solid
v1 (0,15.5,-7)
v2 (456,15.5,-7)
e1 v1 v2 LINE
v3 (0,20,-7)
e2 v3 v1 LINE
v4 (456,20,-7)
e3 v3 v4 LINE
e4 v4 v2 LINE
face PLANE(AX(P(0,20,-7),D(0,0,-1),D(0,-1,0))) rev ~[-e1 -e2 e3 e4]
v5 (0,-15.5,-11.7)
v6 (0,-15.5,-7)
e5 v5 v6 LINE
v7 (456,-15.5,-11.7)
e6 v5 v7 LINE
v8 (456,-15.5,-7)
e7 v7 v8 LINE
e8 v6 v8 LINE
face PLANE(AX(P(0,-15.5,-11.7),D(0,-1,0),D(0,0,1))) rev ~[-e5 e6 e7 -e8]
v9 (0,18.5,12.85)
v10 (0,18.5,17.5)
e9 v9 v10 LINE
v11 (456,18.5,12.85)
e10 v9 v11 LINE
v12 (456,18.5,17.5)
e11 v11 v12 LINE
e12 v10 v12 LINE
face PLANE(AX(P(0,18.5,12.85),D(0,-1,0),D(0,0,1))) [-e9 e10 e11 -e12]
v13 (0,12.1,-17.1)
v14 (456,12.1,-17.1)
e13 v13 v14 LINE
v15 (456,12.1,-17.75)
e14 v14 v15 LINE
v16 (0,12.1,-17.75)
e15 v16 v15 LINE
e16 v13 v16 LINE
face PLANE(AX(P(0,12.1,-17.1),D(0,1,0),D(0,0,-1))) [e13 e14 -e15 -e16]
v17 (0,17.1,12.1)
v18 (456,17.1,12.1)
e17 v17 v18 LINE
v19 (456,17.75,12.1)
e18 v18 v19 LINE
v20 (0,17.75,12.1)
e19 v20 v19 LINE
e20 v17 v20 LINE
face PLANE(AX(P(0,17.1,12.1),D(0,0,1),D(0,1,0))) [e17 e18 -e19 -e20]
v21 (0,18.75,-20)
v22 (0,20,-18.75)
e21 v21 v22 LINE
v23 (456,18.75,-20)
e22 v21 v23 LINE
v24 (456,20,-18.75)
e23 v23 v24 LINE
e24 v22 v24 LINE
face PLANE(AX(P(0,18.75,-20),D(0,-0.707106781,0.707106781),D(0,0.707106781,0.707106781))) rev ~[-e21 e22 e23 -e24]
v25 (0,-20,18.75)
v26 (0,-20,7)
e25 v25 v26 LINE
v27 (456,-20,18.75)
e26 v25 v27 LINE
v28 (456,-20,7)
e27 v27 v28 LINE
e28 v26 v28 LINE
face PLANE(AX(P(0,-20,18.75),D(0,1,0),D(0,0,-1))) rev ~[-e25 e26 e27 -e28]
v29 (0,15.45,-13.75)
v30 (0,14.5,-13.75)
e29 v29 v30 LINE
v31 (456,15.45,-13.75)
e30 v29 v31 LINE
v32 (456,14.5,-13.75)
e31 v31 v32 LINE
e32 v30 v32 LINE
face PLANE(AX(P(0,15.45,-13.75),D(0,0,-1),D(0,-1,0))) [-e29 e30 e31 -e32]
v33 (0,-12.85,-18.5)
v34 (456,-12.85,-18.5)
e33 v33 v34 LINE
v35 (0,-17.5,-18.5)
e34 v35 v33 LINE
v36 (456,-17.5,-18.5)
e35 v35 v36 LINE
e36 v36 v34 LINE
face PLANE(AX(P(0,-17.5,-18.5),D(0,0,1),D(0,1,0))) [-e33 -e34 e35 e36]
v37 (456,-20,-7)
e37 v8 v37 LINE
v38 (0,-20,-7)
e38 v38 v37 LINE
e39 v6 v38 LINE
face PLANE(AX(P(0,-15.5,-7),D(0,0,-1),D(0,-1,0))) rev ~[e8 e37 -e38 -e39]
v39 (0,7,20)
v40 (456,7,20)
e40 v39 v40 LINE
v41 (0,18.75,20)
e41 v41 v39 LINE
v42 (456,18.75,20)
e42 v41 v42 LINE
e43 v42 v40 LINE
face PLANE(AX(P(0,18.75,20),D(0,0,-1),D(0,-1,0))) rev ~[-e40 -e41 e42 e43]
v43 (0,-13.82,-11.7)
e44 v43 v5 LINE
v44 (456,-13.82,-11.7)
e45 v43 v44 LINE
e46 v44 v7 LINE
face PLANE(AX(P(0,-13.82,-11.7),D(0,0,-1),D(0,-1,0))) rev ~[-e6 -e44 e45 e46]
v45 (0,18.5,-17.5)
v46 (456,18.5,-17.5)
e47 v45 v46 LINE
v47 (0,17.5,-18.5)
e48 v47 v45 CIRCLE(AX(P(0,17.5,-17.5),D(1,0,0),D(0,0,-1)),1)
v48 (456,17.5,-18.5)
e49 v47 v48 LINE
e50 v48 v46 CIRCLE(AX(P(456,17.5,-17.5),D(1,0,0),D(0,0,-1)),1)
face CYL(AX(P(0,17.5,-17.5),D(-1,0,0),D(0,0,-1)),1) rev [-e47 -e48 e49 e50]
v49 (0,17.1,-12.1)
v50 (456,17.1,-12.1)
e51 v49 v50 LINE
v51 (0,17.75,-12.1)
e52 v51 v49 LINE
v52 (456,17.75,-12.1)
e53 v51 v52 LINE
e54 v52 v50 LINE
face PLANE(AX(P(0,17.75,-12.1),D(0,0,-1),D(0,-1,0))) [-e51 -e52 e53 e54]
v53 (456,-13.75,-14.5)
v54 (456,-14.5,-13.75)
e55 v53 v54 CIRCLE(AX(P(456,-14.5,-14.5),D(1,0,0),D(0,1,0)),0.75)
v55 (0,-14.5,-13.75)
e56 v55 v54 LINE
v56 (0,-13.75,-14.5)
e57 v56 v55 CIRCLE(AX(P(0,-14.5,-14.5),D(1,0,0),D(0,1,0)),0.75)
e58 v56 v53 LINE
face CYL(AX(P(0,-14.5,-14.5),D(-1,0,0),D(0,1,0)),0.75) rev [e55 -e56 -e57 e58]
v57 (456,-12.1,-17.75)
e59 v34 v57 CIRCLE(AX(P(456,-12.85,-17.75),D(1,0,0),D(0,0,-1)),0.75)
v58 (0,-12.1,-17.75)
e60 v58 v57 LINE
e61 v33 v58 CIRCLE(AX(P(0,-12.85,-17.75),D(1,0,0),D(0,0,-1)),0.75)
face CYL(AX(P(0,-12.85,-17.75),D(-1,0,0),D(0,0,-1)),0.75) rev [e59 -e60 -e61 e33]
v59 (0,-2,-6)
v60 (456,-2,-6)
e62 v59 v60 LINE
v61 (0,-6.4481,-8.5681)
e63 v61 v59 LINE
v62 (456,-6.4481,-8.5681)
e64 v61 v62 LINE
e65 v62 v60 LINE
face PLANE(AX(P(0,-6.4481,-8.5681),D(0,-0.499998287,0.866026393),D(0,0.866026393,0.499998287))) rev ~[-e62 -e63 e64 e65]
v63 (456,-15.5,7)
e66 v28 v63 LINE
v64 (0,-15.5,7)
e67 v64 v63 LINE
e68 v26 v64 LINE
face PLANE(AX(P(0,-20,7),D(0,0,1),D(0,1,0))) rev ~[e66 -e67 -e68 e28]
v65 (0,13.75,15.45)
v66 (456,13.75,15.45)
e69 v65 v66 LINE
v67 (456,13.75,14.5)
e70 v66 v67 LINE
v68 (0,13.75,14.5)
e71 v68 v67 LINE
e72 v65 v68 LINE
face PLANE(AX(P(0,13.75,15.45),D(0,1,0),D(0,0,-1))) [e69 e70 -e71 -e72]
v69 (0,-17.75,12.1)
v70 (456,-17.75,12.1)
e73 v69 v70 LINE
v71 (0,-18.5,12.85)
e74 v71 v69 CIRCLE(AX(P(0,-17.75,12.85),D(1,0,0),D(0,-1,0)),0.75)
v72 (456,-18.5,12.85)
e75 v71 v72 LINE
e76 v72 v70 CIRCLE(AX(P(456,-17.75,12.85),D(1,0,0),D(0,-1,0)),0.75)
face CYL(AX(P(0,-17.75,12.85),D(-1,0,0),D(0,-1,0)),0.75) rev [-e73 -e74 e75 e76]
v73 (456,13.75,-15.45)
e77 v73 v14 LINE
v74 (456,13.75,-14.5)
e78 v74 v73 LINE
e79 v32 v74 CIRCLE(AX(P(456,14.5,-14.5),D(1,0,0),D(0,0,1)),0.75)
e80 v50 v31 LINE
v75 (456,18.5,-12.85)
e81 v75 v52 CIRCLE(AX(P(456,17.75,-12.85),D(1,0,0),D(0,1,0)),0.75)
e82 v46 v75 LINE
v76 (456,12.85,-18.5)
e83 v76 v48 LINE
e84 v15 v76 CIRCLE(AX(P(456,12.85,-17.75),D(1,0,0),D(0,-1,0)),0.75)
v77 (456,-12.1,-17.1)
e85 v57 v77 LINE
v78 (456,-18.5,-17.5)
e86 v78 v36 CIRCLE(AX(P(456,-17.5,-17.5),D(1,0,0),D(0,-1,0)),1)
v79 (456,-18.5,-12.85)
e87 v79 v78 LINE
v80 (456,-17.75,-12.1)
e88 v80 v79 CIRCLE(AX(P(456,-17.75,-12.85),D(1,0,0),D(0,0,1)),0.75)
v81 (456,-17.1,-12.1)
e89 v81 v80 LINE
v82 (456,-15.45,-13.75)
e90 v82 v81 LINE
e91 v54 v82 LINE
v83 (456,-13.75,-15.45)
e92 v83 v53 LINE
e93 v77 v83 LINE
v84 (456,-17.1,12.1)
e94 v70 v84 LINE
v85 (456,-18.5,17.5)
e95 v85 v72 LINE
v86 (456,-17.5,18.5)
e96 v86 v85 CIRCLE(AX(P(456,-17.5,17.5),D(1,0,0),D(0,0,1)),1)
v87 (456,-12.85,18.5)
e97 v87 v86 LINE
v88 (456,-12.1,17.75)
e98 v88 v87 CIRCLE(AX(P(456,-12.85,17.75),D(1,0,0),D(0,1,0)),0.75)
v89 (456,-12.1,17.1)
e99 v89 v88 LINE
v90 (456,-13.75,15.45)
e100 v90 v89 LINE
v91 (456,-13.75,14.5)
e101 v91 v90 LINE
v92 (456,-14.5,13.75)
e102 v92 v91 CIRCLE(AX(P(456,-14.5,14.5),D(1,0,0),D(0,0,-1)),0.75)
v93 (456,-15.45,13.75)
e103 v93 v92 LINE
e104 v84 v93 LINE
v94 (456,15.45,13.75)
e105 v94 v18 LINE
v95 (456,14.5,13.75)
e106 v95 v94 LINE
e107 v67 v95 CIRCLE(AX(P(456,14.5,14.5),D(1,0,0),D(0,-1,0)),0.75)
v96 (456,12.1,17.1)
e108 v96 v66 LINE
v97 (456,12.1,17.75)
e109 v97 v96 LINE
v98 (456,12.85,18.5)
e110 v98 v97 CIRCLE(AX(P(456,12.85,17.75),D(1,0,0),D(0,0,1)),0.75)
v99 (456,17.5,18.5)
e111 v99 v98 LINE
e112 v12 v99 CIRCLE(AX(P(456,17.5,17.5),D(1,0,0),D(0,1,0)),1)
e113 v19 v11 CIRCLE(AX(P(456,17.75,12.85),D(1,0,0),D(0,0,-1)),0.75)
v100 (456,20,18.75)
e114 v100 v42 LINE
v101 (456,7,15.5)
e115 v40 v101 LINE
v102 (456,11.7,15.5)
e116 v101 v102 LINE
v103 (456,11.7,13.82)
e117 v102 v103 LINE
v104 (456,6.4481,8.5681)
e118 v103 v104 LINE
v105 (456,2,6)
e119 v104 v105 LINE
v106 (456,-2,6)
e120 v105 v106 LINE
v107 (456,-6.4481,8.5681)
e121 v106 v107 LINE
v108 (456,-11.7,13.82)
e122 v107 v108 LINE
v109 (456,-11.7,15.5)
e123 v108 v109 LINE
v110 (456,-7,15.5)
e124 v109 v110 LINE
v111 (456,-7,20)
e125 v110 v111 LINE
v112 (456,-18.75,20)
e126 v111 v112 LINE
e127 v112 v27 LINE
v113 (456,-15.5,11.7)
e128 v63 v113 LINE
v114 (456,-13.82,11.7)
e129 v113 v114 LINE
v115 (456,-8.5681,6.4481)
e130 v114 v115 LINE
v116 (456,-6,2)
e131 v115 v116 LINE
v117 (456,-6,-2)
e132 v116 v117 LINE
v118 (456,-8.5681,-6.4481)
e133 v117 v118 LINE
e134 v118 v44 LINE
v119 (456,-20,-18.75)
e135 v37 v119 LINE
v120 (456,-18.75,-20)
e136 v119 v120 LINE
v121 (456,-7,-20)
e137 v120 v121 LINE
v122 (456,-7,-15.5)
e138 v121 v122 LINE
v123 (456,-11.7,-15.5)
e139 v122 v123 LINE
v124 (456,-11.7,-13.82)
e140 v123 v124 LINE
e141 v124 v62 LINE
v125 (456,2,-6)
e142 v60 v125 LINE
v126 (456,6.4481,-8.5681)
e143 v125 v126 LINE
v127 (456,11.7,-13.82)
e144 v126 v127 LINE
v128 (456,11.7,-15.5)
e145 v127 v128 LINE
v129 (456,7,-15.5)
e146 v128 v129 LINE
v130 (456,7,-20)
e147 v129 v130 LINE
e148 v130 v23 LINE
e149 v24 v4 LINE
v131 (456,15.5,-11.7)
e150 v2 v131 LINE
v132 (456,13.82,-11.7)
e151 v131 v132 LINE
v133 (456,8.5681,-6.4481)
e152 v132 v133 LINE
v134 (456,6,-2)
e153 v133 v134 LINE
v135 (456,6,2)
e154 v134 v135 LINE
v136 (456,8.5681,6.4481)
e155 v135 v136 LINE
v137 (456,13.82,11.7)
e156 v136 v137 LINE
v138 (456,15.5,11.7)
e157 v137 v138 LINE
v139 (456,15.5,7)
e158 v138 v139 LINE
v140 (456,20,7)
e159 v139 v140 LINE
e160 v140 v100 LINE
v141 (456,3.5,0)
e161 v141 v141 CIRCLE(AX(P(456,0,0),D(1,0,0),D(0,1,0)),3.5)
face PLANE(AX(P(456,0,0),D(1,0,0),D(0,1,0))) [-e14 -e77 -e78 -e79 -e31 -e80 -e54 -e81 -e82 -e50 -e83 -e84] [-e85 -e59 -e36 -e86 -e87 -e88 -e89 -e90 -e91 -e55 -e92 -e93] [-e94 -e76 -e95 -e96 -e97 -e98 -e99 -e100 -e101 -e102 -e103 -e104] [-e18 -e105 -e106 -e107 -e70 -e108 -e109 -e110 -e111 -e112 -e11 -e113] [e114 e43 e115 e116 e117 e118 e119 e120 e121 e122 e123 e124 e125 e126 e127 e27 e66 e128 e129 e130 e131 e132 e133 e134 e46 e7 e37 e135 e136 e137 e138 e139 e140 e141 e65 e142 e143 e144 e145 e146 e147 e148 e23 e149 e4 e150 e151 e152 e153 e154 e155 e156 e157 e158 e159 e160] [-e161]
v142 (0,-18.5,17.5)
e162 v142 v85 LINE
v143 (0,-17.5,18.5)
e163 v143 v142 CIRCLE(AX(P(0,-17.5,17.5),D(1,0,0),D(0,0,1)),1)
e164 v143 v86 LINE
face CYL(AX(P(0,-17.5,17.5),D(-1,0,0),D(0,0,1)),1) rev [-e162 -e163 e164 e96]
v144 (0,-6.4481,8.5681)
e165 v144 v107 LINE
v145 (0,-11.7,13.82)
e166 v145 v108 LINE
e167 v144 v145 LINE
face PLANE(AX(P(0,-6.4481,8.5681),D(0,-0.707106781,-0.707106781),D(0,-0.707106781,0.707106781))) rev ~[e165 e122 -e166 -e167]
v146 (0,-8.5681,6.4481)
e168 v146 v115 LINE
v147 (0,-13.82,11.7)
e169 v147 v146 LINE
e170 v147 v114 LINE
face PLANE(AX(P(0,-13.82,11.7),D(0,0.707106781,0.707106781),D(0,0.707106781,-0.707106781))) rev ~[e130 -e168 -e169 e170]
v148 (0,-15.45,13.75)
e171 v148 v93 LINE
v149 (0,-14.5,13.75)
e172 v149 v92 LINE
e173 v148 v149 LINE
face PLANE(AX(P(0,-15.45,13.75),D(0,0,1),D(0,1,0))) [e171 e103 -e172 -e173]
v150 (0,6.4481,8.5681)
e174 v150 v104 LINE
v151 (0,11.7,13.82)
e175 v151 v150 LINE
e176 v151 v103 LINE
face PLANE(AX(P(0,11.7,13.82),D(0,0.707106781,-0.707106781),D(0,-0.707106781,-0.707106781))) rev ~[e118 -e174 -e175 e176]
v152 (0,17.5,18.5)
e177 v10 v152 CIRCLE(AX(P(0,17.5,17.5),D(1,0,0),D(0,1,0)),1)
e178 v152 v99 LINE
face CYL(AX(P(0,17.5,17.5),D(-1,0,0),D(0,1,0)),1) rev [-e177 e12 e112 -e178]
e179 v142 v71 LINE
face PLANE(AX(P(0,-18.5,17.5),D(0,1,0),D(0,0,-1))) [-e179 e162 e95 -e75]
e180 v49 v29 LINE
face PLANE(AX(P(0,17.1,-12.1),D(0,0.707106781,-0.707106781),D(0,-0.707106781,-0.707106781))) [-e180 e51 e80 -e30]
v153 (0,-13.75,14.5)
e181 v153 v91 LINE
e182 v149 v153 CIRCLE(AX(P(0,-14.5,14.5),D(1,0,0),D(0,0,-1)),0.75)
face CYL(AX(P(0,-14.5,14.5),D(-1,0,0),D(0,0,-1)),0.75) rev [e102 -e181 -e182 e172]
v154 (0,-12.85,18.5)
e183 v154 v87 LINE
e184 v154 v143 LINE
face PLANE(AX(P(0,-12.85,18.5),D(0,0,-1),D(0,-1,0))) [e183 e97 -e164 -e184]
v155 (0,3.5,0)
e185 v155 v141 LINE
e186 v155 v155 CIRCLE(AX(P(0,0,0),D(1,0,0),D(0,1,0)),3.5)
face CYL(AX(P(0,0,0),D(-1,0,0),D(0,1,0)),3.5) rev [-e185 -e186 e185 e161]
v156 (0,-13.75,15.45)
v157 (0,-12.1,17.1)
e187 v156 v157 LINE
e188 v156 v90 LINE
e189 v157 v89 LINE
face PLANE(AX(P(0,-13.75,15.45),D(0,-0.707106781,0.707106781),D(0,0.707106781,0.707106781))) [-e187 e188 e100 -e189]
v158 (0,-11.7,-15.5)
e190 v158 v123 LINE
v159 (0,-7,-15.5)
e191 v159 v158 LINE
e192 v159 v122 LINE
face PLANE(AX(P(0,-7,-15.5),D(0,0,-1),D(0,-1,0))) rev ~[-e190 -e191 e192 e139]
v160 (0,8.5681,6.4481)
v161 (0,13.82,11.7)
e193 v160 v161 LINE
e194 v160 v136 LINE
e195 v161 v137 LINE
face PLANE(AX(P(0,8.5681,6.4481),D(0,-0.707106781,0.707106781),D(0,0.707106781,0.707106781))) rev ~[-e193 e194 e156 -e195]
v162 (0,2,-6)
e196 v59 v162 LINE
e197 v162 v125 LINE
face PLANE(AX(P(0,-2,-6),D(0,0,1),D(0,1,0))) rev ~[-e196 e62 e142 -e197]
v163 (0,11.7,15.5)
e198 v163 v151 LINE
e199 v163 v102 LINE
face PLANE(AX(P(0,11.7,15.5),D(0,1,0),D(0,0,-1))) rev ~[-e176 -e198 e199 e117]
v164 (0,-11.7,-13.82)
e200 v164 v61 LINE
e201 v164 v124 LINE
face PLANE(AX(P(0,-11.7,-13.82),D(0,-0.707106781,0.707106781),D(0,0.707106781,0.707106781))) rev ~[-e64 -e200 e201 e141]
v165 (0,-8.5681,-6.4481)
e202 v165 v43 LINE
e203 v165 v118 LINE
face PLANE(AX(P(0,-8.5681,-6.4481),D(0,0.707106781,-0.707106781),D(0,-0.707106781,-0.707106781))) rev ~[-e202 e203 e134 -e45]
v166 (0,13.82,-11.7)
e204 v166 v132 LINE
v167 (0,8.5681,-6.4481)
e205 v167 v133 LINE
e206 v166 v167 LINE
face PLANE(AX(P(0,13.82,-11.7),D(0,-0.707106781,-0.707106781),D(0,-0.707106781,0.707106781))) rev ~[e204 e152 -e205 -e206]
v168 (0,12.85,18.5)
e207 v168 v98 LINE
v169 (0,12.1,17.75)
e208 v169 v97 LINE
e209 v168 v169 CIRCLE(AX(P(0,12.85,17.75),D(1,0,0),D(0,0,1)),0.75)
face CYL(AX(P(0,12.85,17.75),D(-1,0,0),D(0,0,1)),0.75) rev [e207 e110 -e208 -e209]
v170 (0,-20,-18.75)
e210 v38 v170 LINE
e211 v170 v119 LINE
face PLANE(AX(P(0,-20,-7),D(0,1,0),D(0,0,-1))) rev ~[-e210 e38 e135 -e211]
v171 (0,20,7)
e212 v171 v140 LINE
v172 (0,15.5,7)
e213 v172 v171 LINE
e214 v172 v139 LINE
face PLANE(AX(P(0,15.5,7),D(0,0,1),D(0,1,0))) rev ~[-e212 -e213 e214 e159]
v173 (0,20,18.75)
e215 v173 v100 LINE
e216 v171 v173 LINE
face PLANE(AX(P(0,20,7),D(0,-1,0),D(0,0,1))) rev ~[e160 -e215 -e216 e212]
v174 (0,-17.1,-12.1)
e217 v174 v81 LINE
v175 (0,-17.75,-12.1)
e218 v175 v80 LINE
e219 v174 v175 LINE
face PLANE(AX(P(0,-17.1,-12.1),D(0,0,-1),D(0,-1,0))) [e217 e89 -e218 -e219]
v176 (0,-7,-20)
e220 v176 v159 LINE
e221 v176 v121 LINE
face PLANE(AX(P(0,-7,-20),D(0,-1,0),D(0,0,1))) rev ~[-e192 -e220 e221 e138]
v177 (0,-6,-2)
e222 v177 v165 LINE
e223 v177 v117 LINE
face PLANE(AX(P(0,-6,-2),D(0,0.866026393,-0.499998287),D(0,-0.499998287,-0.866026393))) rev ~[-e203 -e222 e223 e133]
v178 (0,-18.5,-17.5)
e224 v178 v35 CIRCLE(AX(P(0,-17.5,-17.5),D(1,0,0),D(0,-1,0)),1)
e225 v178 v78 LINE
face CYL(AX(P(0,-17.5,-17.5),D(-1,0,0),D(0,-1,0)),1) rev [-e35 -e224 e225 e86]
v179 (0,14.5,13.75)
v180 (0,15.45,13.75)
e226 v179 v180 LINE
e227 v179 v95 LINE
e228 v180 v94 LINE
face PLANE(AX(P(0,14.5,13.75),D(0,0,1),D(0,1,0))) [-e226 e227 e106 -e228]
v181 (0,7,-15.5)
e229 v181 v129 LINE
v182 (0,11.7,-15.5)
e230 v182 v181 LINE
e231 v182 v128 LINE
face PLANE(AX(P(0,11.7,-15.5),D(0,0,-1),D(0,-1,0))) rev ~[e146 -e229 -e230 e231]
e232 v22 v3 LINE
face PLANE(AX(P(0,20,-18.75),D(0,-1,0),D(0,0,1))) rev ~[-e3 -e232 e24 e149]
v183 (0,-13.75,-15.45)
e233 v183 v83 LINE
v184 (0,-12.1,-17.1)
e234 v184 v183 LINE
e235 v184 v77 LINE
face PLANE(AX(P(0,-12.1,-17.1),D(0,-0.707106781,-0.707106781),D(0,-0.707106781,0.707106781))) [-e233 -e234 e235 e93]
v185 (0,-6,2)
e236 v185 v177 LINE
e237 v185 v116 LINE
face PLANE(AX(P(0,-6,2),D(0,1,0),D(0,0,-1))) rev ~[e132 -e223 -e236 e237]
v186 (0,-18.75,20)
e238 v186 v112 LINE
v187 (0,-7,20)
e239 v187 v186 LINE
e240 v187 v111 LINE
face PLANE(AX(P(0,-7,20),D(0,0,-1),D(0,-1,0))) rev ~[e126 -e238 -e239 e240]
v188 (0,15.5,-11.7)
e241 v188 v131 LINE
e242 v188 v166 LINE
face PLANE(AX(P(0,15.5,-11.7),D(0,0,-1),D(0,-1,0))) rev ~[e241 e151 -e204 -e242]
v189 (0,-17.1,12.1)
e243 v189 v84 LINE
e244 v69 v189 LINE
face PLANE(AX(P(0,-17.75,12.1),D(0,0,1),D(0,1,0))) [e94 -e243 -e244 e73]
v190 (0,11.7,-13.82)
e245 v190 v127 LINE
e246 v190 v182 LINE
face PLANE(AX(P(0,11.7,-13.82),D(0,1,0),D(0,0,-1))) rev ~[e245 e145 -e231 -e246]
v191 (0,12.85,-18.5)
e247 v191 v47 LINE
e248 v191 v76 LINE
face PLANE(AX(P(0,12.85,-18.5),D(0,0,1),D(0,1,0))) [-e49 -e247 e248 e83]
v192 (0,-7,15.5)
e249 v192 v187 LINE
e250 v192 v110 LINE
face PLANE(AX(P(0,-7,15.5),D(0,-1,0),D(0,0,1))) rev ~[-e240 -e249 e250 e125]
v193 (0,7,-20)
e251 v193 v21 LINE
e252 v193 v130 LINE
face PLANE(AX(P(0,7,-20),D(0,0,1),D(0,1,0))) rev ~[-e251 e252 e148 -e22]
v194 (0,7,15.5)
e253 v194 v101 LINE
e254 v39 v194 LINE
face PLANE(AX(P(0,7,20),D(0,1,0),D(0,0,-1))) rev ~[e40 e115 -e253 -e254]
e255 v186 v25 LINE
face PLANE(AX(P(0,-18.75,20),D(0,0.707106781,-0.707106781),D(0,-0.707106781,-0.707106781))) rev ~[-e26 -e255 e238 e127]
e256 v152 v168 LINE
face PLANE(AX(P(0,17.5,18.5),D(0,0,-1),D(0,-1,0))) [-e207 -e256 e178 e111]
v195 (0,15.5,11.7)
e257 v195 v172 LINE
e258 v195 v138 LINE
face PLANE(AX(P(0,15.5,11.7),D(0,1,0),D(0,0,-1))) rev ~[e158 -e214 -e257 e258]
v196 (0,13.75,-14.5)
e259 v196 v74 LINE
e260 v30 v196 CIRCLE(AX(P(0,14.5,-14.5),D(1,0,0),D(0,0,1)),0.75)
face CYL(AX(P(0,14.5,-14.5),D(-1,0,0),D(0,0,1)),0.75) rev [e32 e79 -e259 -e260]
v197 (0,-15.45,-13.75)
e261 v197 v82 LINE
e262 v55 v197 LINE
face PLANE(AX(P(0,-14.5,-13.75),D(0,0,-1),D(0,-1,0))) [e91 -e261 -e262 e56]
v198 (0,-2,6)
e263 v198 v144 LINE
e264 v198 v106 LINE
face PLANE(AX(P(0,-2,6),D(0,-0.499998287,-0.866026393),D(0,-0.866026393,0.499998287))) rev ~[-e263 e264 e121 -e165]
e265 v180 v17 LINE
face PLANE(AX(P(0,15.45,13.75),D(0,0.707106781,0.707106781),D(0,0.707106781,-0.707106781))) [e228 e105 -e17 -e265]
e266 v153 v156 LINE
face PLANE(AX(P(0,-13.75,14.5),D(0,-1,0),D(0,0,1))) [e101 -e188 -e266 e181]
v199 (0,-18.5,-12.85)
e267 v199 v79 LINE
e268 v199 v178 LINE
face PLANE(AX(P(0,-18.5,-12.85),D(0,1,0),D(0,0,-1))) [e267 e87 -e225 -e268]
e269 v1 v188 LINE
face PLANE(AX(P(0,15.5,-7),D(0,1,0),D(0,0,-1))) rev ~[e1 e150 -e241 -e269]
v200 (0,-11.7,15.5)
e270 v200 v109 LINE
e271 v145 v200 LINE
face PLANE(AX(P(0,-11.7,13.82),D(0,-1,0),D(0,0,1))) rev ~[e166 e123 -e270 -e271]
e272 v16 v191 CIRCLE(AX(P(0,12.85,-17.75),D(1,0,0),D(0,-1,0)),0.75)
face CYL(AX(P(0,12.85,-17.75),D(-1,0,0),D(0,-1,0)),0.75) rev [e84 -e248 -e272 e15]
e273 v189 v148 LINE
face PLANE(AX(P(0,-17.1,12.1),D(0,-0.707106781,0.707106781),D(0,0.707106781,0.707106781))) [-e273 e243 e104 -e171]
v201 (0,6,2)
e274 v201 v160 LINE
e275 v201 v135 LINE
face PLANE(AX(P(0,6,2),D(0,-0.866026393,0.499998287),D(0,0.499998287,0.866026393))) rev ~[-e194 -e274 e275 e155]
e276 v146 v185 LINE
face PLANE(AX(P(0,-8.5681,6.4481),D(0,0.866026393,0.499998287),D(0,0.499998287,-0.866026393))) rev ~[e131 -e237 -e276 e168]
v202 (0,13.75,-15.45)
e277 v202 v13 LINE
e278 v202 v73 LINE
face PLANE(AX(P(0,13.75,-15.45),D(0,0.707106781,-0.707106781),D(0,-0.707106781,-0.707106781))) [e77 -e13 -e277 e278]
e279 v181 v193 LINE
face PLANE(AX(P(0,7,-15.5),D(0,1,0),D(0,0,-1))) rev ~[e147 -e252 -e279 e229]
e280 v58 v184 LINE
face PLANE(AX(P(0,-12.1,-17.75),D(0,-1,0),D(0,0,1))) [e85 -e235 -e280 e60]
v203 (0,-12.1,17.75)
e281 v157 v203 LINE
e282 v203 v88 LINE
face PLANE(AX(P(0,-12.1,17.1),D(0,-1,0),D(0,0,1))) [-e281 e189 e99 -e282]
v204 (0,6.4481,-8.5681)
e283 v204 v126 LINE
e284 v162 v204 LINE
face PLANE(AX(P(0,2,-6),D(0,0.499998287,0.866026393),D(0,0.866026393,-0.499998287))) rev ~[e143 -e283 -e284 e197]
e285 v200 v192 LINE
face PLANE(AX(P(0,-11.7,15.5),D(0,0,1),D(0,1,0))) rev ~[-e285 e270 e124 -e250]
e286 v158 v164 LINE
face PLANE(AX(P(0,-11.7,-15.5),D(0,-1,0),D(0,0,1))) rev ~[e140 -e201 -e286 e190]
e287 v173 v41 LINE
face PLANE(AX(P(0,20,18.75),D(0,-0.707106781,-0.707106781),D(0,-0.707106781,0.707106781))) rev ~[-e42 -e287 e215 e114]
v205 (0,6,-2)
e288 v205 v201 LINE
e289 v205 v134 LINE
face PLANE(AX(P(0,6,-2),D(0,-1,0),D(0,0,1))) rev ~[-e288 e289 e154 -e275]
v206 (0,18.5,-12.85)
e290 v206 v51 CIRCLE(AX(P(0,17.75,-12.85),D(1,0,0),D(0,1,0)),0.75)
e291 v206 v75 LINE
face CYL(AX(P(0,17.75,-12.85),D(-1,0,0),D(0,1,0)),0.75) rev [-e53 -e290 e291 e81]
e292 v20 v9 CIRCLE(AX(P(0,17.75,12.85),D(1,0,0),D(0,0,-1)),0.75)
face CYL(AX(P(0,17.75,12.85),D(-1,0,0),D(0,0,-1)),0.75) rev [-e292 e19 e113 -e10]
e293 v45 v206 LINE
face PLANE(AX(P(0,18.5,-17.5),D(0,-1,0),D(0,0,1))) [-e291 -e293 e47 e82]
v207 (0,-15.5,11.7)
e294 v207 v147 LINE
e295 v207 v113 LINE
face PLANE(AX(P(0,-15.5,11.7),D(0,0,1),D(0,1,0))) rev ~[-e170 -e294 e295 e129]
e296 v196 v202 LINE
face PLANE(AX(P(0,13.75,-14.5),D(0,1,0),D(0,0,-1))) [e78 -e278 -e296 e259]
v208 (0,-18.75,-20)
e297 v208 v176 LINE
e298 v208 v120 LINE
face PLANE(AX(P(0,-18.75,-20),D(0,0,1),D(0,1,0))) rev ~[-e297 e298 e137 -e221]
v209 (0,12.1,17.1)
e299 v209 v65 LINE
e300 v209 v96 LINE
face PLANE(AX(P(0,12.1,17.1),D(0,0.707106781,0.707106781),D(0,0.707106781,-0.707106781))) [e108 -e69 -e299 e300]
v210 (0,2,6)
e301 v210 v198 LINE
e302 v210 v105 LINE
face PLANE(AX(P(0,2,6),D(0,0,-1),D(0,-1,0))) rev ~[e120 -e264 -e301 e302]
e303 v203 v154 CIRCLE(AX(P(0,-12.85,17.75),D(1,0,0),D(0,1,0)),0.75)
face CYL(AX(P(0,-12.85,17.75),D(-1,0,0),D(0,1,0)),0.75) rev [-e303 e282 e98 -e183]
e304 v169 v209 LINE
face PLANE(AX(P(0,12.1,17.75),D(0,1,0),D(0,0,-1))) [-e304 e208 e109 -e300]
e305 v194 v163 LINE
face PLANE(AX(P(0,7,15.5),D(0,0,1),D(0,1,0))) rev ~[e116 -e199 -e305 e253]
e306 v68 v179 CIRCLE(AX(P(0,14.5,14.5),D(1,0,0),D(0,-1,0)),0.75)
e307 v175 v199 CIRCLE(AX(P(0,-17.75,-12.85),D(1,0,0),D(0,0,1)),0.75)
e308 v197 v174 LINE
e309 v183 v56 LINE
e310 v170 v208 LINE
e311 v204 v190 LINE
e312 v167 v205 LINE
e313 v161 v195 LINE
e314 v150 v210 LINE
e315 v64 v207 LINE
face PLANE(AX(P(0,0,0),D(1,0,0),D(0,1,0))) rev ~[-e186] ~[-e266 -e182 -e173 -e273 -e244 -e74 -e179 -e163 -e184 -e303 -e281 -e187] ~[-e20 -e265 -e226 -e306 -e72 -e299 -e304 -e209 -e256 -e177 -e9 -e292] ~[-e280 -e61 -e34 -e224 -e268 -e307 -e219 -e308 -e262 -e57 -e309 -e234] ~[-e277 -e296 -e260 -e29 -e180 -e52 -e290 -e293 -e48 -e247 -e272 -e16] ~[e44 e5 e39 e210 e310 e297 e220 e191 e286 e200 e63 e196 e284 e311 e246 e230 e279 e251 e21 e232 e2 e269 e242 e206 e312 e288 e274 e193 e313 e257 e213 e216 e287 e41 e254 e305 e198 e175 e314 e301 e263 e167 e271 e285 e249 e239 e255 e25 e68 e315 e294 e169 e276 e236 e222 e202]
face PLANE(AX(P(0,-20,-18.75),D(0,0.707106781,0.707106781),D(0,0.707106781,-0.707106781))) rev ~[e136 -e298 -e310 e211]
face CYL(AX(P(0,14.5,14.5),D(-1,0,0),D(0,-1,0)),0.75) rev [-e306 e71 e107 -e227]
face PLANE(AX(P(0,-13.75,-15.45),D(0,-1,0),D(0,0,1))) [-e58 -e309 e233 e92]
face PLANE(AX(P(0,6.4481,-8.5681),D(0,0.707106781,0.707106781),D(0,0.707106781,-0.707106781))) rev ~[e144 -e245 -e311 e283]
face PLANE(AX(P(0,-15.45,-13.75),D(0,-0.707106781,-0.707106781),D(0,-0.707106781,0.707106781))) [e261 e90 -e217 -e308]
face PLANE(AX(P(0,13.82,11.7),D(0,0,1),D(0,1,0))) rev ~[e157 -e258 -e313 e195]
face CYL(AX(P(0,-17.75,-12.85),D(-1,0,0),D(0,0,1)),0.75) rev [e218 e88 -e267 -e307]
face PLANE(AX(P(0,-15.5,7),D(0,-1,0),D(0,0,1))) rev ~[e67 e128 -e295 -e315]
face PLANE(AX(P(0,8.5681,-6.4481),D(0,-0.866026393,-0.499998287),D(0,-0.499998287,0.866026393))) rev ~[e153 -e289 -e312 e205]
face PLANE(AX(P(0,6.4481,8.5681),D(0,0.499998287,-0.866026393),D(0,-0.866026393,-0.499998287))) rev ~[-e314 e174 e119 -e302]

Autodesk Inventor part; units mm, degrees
sketch "Skizze_1" plane through (0, 0, 0) normal (1, 0, 0) x (0, 1, 0)
  line L0 (18.75, 20) -> (7, 20)
  line L1 (7, 20) -> (7, 15.5)
  line L2 (7, 15.5) -> (11.7, 15.5)
  line L3 (11.7, 15.5) -> (11.7, 13.82)
  line L4 (11.7, 13.82) -> (6.4481, 8.5681)
  line L5 (6.4481, 8.5681) -> (2, 6)
  line L6 (2, 6) -> (-2, 6)
  line L7 (-2, 6) -> (-6.4481, 8.5681)
  line L8 (-6.4481, 8.5681) -> (-11.7, 13.82)
  line L9 (-11.7, 13.82) -> (-11.7, 15.5)
  line L10 (-11.7, 15.5) -> (-7, 15.5)
  line L11 (-7, 15.5) -> (-7, 20)
  line L12 (-7, 20) -> (-18.75, 20)
  line L13 (-18.75, 20) -> (-20, 18.75)
  line L14 (-20, 18.75) -> (-20, 7)
  line L15 (-20, 7) -> (-15.5, 7)
  line L16 (-15.5, 7) -> (-15.5, 11.7)
  line L17 (-15.5, 11.7) -> (-13.82, 11.7)
  line L18 (-13.82, 11.7) -> (-8.5681, 6.4481)
  line L19 (-8.5681, 6.4481) -> (-6, 2)
  line L20 (-6, 2) -> (-6, -2)
  line L21 (-6, -2) -> (-8.5681, -6.4481)
  line L22 (-8.5681, -6.4481) -> (-13.82, -11.7)
  line L23 (-13.82, -11.7) -> (-15.5, -11.7)
  line L24 (-15.5, -11.7) -> (-15.5, -7)
  line L25 (-15.5, -7) -> (-20, -7)
  line L26 (-20, -7) -> (-20, -18.75)
  line L27 (-20, -18.75) -> (-18.75, -20)
  line L28 (-18.75, -20) -> (-7, -20)
  line L29 (-7, -20) -> (-7, -15.5)
  line L30 (-7, -15.5) -> (-11.7, -15.5)
  line L31 (-11.7, -15.5) -> (-11.7, -13.82)
  line L32 (-11.7, -13.82) -> (-6.4481, -8.5681)
  line L33 (-6.4481, -8.5681) -> (-2, -6)
  line L34 (-2, -6) -> (2, -6)
  line L35 (2, -6) -> (6.4481, -8.5681)
  line L36 (6.4481, -8.5681) -> (11.7, -13.82)
  line L37 (11.7, -13.82) -> (11.7, -15.5)
  line L38 (11.7, -15.5) -> (7, -15.5)
  line L39 (7, -15.5) -> (7, -20)
  line L40 (7, -20) -> (18.75, -20)
  line L41 (18.75, -20) -> (20, -18.75)
  line L42 (20, -18.75) -> (20, -7)
  line L43 (20, -7) -> (15.5, -7)
  line L44 (15.5, -7) -> (15.5, -11.7)
  line L45 (15.5, -11.7) -> (13.82, -11.7)
  line L46 (13.82, -11.7) -> (8.5681, -6.4481)
  line L47 (8.5681, -6.4481) -> (6, -2)
  line L48 (6, -2) -> (6, 2)
  line L49 (6, 2) -> (8.5681, 6.4481)
  line L50 (8.5681, 6.4481) -> (13.82, 11.7)
  line L51 (13.82, 11.7) -> (15.5, 11.7)
  line L52 (15.5, 11.7) -> (15.5, 7)
  line L53 (15.5, 7) -> (20, 7)
  line L54 (20, 7) -> (20, 18.75)
  line L55 (20, 18.75) -> (18.75, 20)
  line L56 (17.75, -12.1) -> (17.1, -12.1)
  line L57 (17.1, -12.1) -> (15.45, -13.75)
  line L58 (15.45, -13.75) -> (14.5, -13.75)
  arc A0 (14.5, -13.75) -> (13.75, -14.5) centre (14.5, -14.5) ccw
  line L59 (13.75, -14.5) -> (13.75, -15.45)
  line L60 (13.75, -15.45) -> (12.1, -17.1)
  line L61 (12.1, -17.1) -> (12.1, -17.75)
  arc A1 (12.1, -17.75) -> (12.85, -18.5) centre (12.85, -17.75) ccw
  line L62 (12.85, -18.5) -> (17.5, -18.5)
  arc A2 (17.5, -18.5) -> (18.5, -17.5) centre (17.5, -17.5) ccw
  line L63 (18.5, -17.5) -> (18.5, -12.85)
  arc A3 (18.5, -12.85) -> (17.75, -12.1) centre (17.75, -12.85) ccw
  line L64 (-17.1, -12.1) -> (-17.75, -12.1)
  arc A4 (-17.75, -12.1) -> (-18.5, -12.85) centre (-17.75, -12.85) ccw
  line L65 (-18.5, -12.85) -> (-18.5, -17.5)
  arc A5 (-18.5, -17.5) -> (-17.5, -18.5) centre (-17.5, -17.5) ccw
  line L66 (-17.5, -18.5) -> (-12.85, -18.5)
  arc A6 (-12.85, -18.5) -> (-12.1, -17.75) centre (-12.85, -17.75) ccw
  line L67 (-12.1, -17.75) -> (-12.1, -17.1)
  line L68 (-12.1, -17.1) -> (-13.75, -15.45)
  line L69 (-13.75, -15.45) -> (-13.75, -14.5)
  arc A7 (-13.75, -14.5) -> (-14.5, -13.75) centre (-14.5, -14.5) ccw
  line L70 (-14.5, -13.75) -> (-15.45, -13.75)
  line L71 (-15.45, -13.75) -> (-17.1, -12.1)
  circle A8 centre (0, 0) radius 3.5
  arc A9 (-17.5, 18.5) -> (-18.5, 17.5) centre (-17.5, 17.5) ccw
  line L72 (-18.5, 17.5) -> (-18.5, 12.85)
  arc A10 (-18.5, 12.85) -> (-17.75, 12.1) centre (-17.75, 12.85) ccw
  line L73 (-17.75, 12.1) -> (-17.1, 12.1)
  line L74 (-17.1, 12.1) -> (-15.45, 13.75)
  line L75 (-15.45, 13.75) -> (-14.5, 13.75)
  arc A11 (-14.5, 13.75) -> (-13.75, 14.5) centre (-14.5, 14.5) ccw
  line L76 (-13.75, 14.5) -> (-13.75, 15.45)
  line L77 (-13.75, 15.45) -> (-12.1, 17.1)
  line L78 (-12.1, 17.1) -> (-12.1, 17.75)
  arc A12 (-12.1, 17.75) -> (-12.85, 18.5) centre (-12.85, 17.75) ccw
  line L79 (-12.85, 18.5) -> (-17.5, 18.5)
  line L80 (17.5, 18.5) -> (12.85, 18.5)
  arc A13 (12.85, 18.5) -> (12.1, 17.75) centre (12.85, 17.75) ccw
  line L81 (12.1, 17.75) -> (12.1, 17.1)
  line L82 (12.1, 17.1) -> (13.75, 15.45)
  line L83 (13.75, 15.45) -> (13.75, 14.5)
  arc A14 (13.75, 14.5) -> (14.5, 13.75) centre (14.5, 14.5) ccw
  line L84 (14.5, 13.75) -> (15.45, 13.75)
  line L85 (15.45, 13.75) -> (17.1, 12.1)
  line L86 (17.1, 12.1) -> (17.75, 12.1)
  arc A15 (17.75, 12.1) -> (18.5, 12.85) centre (17.75, 12.85) ccw
  line L87 (18.5, 12.85) -> (18.5, 17.5)
  arc A16 (18.5, 17.5) -> (17.5, 18.5) centre (17.5, 17.5) ccw
extrude "Extrusion1" add sketch "Skizze_1" along normal blind 456
ref_plane "CS_ANBAU_HINTEN_LINKS_XY" through (456, 0, 20) normal (1, 0, 0) x (0, 0, -1)
ref_plane "CS_ANBAU_HINTEN_LINKS_YZ" through (456, 0, 20) normal (0, 0, -1) x (0, 1, 0)
ref_plane "CS_ANBAU_HINTEN_LINKS_ZX" through (456, 0, 20) normal (0, 1, 0) x (1, 0, 0)
ref_plane "CS_ANBAU_HINTEN_OBEN_XY" through (456, 20, 0) normal (1, 0, 0) x (0, 0, -1)
ref_plane "CS_ANBAU_HINTEN_OBEN_YZ" through (456, 20, 0) normal (0, 0, -1) x (0, 1, 0)
ref_plane "CS_ANBAU_HINTEN_OBEN_ZX" through (456, 20, 0) normal (0, 1, 0) x (1, 0, 0)
ref_plane "CS_ANBAU_HINTEN_RECHTS_XY" through (456, 0, -20) normal (1, 0, 0) x (0, 0, -1)
ref_plane "CS_ANBAU_HINTEN_RECHTS_YZ" through (456, 0, -20) normal (0, 0, -1) x (0, 1, 0)
ref_plane "CS_ANBAU_HINTEN_RECHTS_ZX" through (456, 0, -20) normal (0, 1, 0) x (1, 0, 0)
ref_plane "CS_ANBAU_HINTEN_UNTEN_XY" through (456, -20, 0) normal (1, 0, 0) x (0, 0, -1)
ref_plane "CS_ANBAU_HINTEN_UNTEN_YZ" through (456, -20, 0) normal (0, 0, -1) x (0, 1, 0)
ref_plane "CS_ANBAU_HINTEN_UNTEN_ZX" through (456, -20, 0) normal (0, 1, 0) x (1, 0, 0)
ref_plane "CS_ANBAU_QUER_XY" through (0, 0, 20) normal (0, 0, 1) x (1, 0, 0)
ref_plane "CS_ANBAU_QUER_YZ" through (0, 0, 20) normal (1, 0, 0) x (0, 1, 0)
ref_plane "CS_ANBAU_QUER_ZX" through (0, 0, 20) normal (0, 1, 0) x (0, 0, 1)
ref_plane "CS_ANBAU_QUER_1_XY" through (456, 0, 20) normal (0, 0, 1) x (1, 0, 0)
ref_plane "CS_ANBAU_QUER_1_YZ" through (456, 0, 20) normal (1, 0, 0) x (0, 1, 0)
ref_plane "CS_ANBAU_QUER_1_ZX" through (456, 0, 20) normal (0, 1, 0) x (0, 0, 1)
ref_plane "CS_ANBAU_VORNE_LINKS_XY" through (0, 0, 20) normal (-1, 0, 0) x (0, 0, -1)
ref_plane "CS_ANBAU_VORNE_LINKS_YZ" through (0, 0, 20) normal (0, 0, -1) x (0, -1, 0)
ref_plane "CS_ANBAU_VORNE_LINKS_ZX" through (0, 0, 20) normal (0, -1, 0) x (-1, 0, 0)
ref_plane "CS_ANBAU_VORNE_OBEN_XY" through (0, 20, 0) normal (-1, 0, 0) x (0, 0, -1)
ref_plane "CS_ANBAU_VORNE_OBEN_YZ" through (0, 20, 0) normal (0, 0, -1) x (0, -1, 0)
ref_plane "CS_ANBAU_VORNE_OBEN_ZX" through (0, 20, 0) normal (0, -1, 0) x (-1, 0, 0)
ref_plane "CS_ANBAU_VORNE_RECHTS_XY" through (0, 0, -20) normal (-1, 0, 0) x (0, 0, -1)
ref_plane "CS_ANBAU_VORNE_RECHTS_YZ" through (0, 0, -20) normal (0, 0, -1) x (0, -1, 0)
ref_plane "CS_ANBAU_VORNE_RECHTS_ZX" through (0, 0, -20) normal (0, -1, 0) x (-1, 0, 0)
ref_plane "CS_ANBAU_VORNE_UNTEN_XY" through (0, -20, 0) normal (-1, 0, 0) x (0, 0, -1)
ref_plane "CS_ANBAU_VORNE_UNTEN_YZ" through (0, -20, 0) normal (0, 0, -1) x (0, -1, 0)
ref_plane "CS_ANBAU_VORNE_UNTEN_ZX" through (0, -20, 0) normal (0, -1, 0) x (-1, 0, 0)
ref_plane "p1_XY" through (0, 20, 0) normal (0, 0, 1) x (1, 0, 0)
ref_plane "p1_YZ" through (0, 20, 0) normal (1, 0, 0) x (0, 1, 0)
ref_plane "p1_ZX" through (0, 20, 0) normal (0, 1, 0) x (0, 0, 1)
ref_plane "p2_XY" through (456, 20, 0) normal (0, 0, 1) x (1, 0, 0)
ref_plane "p2_YZ" through (456, 20, 0) normal (1, 0, 0) x (0, 1, 0)
ref_plane "p2_ZX" through (456, 20, 0) normal (0, 1, 0) x (0, 0, 1)
ref_plane "p3_XY" through (456, -20, 18.75) normal (1, 0, 0) x (0, 0, -1)
ref_plane "p3_YZ" through (456, -20, 18.75) normal (0, 0, -1) x (0, 1, 0)
ref_plane "p3_ZX" through (456, -20, 18.75) normal (0, 1, 0) x (1, 0, 0)
ref_plane "p4_XY" through (456, 20, 18.75) normal (1, 0, 0) x (0, 0, -1)
ref_plane "p4_YZ" through (456, 20, 18.75) normal (0, 0, -1) x (0, 1, 0)
ref_plane "p4_ZX" through (456, 20, 18.75) normal (0, 1, 0) x (1, 0, 0)
ref_plane "p5_XY" through (456, 20, -21.25) normal (1, 0, 0) x (0, 0, -1)
ref_plane "p5_YZ" through (456, 20, -21.25) normal (0, 0, -1) x (0, 1, 0)
ref_plane "p5_ZX" through (456, 20, -21.25) normal (0, 1, 0) x (1, 0, 0)
ref_plane "pm1_XY" through (0, 0, 0) normal (1, 0, 0) x (0, 0, -1)
ref_plane "pm1_YZ" through (0, 0, 0) normal (0, 0, -1) x (0, 1, 0)
ref_plane "pm1_ZX" through (0, 0, 0) normal (0, 1, 0) x (1, 0, 0)
ref_plane "pm2_XY" through (456, 0, -1.25) normal (1, 0, 0) x (0, 0, -1)
ref_plane "pm2_YZ" through (456, 0, -1.25) normal (0, 0, -1) x (0, 1, 0)
ref_plane "pm2_ZX" through (456, 0, -1.25) normal (0, 1, 0) x (1, 0, 0)
properties part number "Robotunits Profil 40 x 40 - PIL 4040 SNN 0456"
